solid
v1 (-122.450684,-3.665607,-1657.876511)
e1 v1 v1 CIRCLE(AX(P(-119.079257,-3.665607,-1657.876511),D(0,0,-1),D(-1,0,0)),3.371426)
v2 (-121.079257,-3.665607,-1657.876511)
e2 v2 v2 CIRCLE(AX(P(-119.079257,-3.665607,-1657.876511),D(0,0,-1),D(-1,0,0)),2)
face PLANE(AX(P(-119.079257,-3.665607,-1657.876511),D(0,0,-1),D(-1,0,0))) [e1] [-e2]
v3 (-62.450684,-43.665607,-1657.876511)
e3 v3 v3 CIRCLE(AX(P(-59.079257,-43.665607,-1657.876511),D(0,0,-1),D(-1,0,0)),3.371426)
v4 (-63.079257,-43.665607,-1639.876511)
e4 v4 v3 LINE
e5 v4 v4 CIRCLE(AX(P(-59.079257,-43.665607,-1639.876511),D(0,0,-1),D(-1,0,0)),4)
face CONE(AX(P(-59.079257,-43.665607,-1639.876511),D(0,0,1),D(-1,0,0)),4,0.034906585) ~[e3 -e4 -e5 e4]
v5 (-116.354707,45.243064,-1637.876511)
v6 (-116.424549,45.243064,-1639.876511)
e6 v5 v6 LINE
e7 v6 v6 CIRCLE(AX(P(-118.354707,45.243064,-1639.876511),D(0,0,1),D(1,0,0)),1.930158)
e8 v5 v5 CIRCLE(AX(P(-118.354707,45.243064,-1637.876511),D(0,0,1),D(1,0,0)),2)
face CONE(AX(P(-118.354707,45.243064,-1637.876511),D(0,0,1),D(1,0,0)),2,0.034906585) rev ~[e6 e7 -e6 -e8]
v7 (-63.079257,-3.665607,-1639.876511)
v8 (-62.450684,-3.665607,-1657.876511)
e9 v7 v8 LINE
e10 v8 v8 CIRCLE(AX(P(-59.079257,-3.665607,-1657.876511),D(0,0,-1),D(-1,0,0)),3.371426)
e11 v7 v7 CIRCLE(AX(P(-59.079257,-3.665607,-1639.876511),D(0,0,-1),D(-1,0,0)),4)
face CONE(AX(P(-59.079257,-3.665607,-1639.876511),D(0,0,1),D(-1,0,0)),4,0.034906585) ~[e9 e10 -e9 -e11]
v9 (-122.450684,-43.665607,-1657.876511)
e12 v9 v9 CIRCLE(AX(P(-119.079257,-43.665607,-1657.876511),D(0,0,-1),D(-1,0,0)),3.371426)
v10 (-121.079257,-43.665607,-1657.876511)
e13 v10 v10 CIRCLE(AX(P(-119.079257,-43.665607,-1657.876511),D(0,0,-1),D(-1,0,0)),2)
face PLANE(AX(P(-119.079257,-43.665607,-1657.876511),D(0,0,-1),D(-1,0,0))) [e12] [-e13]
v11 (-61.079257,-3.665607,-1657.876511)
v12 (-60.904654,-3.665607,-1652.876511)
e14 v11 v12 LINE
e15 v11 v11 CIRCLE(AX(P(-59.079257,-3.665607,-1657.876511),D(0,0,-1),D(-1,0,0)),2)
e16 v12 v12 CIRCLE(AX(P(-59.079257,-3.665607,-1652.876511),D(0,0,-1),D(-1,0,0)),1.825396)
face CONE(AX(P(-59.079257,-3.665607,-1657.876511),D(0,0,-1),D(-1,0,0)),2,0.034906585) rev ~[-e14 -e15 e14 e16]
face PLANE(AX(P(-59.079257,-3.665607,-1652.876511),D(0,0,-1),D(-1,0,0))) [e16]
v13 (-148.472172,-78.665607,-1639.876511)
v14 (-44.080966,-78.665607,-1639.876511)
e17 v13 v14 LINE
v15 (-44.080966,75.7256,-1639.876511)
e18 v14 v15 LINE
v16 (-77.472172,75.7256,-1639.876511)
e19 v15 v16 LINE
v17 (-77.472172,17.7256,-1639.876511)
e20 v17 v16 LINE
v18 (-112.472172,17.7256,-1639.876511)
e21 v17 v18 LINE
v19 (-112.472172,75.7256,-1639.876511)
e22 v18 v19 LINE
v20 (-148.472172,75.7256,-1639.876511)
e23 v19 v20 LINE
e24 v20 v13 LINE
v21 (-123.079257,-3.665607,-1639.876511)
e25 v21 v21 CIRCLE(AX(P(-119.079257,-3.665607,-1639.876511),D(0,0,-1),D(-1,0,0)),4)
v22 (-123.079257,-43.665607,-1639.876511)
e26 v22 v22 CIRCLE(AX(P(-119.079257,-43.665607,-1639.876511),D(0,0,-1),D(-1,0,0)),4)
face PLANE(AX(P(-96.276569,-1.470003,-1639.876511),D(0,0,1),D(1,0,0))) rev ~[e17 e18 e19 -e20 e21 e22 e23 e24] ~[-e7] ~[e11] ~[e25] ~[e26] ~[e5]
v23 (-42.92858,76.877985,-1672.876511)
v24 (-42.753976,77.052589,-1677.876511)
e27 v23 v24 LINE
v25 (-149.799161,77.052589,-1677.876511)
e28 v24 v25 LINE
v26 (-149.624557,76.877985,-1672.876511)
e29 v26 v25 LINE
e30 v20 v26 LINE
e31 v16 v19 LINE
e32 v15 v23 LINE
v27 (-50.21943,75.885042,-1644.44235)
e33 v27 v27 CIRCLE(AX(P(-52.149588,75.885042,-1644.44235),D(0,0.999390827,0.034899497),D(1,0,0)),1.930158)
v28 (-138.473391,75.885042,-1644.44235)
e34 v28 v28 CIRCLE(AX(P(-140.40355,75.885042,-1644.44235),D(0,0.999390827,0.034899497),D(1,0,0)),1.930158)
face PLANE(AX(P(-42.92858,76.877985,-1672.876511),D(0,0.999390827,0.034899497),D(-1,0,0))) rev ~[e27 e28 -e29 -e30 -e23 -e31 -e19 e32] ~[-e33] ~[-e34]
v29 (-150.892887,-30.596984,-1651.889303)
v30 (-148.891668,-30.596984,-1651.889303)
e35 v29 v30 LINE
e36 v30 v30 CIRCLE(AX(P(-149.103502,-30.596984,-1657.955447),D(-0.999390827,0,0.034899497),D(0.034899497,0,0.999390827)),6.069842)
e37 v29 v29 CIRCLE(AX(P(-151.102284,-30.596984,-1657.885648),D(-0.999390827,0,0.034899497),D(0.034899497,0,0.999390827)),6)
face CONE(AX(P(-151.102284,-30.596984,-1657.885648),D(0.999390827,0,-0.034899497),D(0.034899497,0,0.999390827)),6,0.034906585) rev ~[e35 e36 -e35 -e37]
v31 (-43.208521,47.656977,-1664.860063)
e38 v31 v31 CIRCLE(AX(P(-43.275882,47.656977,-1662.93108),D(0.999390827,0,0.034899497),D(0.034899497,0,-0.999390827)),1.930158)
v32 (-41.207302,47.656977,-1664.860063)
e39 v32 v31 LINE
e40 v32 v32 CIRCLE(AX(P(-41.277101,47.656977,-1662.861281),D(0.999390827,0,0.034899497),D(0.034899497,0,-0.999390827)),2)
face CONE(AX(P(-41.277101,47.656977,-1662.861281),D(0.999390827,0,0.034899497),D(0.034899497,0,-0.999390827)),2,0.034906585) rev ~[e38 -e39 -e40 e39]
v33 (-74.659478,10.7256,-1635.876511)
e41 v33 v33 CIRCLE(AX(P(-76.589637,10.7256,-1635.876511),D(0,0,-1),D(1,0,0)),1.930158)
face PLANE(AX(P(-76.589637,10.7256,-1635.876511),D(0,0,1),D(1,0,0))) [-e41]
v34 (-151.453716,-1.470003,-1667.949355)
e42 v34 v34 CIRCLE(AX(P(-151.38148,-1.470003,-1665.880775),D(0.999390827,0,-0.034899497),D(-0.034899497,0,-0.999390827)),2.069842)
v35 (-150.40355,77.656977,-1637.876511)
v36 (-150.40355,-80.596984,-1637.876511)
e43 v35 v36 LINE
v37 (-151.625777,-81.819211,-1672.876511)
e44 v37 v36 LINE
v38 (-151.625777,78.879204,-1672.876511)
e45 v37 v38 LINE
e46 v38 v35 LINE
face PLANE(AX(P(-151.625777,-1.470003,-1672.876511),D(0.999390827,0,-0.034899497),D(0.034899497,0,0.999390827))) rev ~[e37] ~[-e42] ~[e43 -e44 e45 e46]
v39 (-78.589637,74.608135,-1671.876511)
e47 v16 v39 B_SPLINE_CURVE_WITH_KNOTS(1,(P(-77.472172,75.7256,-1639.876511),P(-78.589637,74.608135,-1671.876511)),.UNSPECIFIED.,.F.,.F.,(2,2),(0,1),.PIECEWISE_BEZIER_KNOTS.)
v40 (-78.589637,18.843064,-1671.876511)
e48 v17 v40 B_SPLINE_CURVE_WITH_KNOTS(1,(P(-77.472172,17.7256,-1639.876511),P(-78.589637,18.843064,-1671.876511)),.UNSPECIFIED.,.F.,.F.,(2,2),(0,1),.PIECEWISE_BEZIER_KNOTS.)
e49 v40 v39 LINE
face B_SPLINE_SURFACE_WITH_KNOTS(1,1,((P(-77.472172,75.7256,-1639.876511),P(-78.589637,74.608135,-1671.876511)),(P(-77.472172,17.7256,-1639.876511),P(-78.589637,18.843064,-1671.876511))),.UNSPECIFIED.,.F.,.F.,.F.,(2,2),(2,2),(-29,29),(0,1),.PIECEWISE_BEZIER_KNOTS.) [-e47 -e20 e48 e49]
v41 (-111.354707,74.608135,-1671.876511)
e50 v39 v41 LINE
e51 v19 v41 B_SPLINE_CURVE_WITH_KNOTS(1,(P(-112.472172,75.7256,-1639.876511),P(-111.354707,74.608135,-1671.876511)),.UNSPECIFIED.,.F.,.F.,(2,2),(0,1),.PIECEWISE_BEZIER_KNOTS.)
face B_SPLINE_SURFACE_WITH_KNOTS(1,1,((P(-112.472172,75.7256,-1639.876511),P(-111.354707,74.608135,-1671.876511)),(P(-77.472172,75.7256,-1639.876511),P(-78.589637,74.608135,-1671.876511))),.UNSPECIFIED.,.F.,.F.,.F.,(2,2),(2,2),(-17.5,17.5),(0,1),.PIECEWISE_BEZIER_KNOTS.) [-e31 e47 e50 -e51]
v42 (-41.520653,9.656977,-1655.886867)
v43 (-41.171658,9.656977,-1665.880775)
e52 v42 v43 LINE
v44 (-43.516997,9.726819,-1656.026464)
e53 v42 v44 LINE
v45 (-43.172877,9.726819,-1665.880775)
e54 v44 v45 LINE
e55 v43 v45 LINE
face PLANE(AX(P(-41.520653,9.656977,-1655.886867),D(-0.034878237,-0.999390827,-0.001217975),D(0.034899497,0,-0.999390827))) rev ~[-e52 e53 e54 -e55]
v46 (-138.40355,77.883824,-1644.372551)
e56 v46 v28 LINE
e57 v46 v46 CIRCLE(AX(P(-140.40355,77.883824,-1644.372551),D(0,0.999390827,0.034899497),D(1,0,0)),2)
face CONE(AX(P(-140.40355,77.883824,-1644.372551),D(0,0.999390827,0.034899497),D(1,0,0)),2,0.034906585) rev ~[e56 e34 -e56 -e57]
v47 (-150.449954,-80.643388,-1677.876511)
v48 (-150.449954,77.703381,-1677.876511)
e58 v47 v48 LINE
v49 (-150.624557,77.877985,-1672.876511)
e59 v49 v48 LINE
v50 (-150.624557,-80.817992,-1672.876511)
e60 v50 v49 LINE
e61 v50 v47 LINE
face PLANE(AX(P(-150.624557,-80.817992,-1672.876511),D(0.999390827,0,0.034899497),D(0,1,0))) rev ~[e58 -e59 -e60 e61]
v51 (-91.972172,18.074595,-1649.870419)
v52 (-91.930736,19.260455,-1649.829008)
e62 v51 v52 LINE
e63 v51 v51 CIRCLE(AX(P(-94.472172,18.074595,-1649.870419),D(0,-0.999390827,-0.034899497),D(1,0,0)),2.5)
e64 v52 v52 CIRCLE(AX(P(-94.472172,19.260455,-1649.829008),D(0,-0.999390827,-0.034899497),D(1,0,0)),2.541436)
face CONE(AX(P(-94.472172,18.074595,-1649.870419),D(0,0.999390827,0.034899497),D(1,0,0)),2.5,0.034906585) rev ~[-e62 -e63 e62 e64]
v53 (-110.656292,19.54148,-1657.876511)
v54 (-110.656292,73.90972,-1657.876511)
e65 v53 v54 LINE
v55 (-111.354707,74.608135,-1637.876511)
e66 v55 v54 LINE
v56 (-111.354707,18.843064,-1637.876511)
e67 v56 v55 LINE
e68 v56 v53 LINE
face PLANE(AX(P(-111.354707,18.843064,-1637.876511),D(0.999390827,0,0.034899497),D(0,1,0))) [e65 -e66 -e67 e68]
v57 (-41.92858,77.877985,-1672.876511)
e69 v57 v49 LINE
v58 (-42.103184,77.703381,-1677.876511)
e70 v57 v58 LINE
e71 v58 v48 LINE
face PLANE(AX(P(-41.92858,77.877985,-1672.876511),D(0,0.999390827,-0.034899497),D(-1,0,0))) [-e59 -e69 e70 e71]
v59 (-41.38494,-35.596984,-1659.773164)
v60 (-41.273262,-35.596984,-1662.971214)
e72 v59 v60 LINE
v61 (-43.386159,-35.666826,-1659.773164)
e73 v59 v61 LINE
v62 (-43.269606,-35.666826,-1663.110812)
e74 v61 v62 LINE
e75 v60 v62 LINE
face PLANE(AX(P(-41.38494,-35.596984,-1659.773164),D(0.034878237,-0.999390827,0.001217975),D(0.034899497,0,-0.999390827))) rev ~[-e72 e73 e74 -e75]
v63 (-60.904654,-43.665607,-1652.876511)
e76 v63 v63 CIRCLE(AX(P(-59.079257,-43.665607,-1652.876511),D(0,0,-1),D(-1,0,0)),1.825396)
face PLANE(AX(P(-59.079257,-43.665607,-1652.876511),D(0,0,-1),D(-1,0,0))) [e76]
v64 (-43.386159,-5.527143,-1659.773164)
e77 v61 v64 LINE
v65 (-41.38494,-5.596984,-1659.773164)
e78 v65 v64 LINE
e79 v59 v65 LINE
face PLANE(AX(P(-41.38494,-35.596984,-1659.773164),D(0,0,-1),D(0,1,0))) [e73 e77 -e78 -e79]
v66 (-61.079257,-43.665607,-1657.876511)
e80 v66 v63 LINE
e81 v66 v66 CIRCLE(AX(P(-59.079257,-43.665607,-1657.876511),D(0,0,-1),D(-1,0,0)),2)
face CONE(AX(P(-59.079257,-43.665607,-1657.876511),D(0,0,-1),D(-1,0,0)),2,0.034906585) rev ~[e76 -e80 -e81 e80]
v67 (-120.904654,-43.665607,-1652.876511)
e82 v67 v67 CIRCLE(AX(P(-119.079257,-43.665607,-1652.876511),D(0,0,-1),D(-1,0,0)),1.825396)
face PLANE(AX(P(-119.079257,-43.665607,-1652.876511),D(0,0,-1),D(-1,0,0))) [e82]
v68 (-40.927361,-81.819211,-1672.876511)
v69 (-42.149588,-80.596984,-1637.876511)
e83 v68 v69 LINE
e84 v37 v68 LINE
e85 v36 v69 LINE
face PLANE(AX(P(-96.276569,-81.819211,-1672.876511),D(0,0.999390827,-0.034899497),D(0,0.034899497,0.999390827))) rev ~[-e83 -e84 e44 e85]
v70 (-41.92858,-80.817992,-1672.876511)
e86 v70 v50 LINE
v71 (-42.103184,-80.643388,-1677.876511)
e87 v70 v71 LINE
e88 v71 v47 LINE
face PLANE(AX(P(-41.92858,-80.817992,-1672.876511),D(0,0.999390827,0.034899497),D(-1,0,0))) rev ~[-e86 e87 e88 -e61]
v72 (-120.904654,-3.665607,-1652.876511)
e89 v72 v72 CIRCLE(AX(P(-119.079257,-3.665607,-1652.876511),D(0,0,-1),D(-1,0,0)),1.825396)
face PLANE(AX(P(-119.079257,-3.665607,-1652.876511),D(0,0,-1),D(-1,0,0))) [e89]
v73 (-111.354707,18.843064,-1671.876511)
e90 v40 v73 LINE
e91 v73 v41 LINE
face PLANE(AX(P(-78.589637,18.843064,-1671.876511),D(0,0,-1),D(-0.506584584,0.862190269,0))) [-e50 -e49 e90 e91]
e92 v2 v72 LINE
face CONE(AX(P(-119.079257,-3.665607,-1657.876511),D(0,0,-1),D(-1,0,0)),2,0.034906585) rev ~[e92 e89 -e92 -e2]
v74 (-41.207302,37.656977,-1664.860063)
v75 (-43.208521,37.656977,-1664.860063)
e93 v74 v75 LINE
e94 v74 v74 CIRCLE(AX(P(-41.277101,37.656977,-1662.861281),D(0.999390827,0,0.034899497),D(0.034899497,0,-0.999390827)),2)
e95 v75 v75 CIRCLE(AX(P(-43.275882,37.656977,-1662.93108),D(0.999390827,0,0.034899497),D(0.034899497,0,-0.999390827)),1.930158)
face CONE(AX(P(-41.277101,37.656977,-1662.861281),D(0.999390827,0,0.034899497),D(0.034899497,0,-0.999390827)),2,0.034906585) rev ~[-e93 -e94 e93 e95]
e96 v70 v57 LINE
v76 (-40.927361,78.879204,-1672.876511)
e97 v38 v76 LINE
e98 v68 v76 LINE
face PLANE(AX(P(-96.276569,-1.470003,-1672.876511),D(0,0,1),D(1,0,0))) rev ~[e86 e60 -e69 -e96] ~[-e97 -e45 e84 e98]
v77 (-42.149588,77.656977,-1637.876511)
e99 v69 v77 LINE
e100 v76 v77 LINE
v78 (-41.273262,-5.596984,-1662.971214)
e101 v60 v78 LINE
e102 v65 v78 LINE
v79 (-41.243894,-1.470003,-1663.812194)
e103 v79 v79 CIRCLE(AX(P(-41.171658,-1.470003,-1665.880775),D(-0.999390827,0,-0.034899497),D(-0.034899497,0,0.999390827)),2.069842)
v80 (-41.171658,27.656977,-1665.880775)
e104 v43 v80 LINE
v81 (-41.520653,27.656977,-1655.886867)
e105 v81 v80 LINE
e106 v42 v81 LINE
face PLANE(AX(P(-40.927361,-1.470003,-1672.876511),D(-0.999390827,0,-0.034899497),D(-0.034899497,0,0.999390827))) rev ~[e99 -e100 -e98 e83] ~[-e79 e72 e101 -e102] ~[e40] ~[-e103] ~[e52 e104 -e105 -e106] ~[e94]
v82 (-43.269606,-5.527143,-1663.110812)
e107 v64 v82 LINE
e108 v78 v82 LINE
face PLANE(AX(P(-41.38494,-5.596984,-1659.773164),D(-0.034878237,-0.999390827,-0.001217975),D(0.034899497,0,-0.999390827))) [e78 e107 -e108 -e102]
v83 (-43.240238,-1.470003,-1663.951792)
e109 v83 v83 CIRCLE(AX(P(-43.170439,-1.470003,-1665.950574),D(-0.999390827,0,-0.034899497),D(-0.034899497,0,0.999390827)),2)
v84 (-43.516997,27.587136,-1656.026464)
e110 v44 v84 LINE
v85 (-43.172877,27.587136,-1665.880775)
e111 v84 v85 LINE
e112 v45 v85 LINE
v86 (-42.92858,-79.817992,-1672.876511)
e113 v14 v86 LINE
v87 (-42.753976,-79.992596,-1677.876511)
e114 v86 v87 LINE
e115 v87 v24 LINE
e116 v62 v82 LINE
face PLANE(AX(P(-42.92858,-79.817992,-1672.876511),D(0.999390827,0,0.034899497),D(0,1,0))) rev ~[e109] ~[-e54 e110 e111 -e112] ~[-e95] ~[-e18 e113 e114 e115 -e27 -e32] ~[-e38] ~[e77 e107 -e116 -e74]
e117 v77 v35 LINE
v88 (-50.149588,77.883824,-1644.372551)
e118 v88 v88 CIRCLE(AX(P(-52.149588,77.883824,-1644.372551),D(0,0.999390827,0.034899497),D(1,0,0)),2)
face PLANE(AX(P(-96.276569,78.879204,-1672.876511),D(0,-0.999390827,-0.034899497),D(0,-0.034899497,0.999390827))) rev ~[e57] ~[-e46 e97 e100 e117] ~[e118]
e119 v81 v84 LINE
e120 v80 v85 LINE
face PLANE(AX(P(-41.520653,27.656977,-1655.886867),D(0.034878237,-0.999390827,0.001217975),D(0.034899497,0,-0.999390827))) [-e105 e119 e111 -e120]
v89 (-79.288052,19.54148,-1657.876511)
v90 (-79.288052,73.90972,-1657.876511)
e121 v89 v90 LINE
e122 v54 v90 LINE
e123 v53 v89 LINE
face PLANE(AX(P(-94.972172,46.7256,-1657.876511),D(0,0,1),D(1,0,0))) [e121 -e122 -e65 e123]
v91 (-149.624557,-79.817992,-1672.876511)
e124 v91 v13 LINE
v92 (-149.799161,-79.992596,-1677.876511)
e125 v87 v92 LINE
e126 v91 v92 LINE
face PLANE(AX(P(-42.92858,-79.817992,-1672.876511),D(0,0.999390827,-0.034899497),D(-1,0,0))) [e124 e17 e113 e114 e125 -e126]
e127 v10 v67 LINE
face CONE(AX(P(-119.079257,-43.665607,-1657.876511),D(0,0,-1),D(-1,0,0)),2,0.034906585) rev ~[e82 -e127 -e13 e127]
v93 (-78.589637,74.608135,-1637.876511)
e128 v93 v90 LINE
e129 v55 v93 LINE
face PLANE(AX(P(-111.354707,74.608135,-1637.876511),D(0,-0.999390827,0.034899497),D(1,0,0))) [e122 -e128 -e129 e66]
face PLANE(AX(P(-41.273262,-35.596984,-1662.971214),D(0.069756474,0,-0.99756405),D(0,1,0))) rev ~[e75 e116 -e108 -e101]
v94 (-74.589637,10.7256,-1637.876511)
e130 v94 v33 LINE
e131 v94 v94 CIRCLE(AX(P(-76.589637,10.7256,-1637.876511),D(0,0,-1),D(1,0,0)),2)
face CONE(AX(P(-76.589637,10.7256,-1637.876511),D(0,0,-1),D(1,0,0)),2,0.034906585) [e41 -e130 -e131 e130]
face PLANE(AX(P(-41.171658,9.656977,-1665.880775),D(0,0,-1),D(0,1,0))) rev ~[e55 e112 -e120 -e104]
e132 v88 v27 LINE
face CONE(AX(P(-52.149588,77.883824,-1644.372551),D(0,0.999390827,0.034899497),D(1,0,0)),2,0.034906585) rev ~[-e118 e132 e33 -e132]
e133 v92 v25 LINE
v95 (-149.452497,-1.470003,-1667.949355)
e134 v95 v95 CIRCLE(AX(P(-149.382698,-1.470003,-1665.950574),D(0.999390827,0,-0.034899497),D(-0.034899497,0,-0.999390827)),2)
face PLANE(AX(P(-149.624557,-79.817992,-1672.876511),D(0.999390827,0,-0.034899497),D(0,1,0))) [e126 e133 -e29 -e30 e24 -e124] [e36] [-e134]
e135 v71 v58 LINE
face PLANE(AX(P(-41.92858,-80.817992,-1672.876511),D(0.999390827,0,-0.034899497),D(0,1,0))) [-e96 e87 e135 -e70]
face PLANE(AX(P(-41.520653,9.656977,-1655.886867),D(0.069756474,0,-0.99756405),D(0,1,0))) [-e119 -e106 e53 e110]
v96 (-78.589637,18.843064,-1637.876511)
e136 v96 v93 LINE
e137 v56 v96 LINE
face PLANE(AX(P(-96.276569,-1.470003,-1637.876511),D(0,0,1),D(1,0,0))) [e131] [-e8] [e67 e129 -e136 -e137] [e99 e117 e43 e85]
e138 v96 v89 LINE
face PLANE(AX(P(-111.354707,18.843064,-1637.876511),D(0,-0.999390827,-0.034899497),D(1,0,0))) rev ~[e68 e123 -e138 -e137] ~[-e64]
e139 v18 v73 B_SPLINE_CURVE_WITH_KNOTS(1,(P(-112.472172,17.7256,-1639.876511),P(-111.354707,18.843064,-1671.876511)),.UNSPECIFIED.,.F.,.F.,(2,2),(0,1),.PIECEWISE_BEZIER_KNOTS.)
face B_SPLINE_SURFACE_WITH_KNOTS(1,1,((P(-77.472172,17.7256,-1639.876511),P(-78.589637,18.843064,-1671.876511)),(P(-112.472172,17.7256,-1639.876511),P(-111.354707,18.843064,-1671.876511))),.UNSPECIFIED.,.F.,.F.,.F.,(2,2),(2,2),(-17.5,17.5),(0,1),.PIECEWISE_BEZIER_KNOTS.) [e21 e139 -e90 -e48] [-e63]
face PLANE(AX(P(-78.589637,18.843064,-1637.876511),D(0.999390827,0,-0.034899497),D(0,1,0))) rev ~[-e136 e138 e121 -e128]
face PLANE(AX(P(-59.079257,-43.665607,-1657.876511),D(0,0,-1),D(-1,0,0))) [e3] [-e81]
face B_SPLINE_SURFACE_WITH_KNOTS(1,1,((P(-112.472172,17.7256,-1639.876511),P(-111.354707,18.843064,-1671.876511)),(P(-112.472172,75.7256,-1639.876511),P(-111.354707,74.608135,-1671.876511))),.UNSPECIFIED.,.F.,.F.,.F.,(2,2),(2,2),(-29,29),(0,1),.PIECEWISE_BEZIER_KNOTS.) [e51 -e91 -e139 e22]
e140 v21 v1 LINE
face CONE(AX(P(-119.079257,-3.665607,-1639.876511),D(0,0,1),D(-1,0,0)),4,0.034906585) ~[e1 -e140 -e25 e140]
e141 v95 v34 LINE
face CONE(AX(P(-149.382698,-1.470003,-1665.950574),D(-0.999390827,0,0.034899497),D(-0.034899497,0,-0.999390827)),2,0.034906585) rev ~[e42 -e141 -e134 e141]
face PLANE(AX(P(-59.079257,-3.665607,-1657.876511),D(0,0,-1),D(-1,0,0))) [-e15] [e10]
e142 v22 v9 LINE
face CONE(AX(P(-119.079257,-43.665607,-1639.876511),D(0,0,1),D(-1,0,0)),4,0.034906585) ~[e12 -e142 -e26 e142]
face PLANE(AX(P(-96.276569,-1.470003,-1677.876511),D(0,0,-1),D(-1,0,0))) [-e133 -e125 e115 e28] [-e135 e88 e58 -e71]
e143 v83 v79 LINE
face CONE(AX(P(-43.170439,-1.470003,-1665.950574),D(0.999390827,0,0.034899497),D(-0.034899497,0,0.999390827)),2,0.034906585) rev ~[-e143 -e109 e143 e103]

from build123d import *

# Parameters (mm, degrees)
SKETCH1_W                     = 110.69841539
SKETCH1_H                     = 160.69841539
BOSS_EXTRUDE1_DEPTH           = 35
BOSS_EXTRUDE1_TAPER           = 2
SHELL1_T                      = -2
SKETCH9_W                     = 35
SKETCH9_H                     = 58
BOSS_EXTRUDE5_DEPTH           = 32
BOSS_EXTRUDE5_TAPER           = 2
SKETCH6_W                     = 3.2
SKETCH6_H                     = 30
CUT_EXTRUDE3_DEPTH            = 2
CUT_EXTRUDE3_DRAFT            = 2
SKETCH11_W                    = 32.765070753
SKETCH11_H                    = 55.765070753
CUT_EXTRUDE4_DEPTH            = 20
CUT_EXTRUDE4_DRAFT            = -2
SKETCH13_R                    = 2.5
CUT_EXTRUDE5_DEPTH            = 1.186583
CUT_EXTRUDE5_DRAFT            = 2
SKETCH14_R                    = 4
BOSS_EXTRUDE6_DEPTH           = 18
BOSS_EXTRUDE6_DRAFT           = 2
BOSS_EXTRUDE6_PROFILE_2_DEPTH = 18
BOSS_EXTRUDE6_PROFILE_2_DRAFT = 2
BOSS_EXTRUDE6_PROFILE_3_DEPTH = 18
BOSS_EXTRUDE6_PROFILE_3_DRAFT = 2
BOSS_EXTRUDE6_PROFILE_4_DEPTH = 18
BOSS_EXTRUDE6_PROFILE_4_DRAFT = 2
SKETCH15_R                    = 2
CUT_EXTRUDE6_DEPTH            = 5
CUT_EXTRUDE6_DRAFT            = -2
CUT_EXTRUDE6_PROFILE_2_DEPTH  = 5
CUT_EXTRUDE6_PROFILE_2_DRAFT  = -2
CUT_EXTRUDE6_PROFILE_3_DEPTH  = 5
CUT_EXTRUDE6_PROFILE_3_DRAFT  = -2
CUT_EXTRUDE6_PROFILE_4_DEPTH  = 5
CUT_EXTRUDE6_PROFILE_4_DRAFT  = -2
SKETCH17_W                    = 108.695977213
SKETCH17_H                    = 158.695977213
SKETCH17_W_2                  = 106.695977213
SKETCH17_H_2                  = 156.695977213
BOSS_EXTRUDE8_DEPTH           = 5
BOSS_EXTRUDE8_DRAFT           = 2
SKETCH18_R                    = 2
BOSS_EXTRUDE9_DEPTH           = 2
BOSS_EXTRUDE9_TAPER           = 2
SKETCH19_R                    = 2
CUT_EXTRUDE7_DEPTH            = 2
CUT_EXTRUDE7_DRAFT            = -2
SKETCH26_R                    = 2
CUT_EXTRUDE11_DEPTH           = 2
CUT_EXTRUDE11_DRAFT           = 2
SKETCH27_R                    = 2
CUT_EXTRUDE12_DEPTH           = 2
CUT_EXTRUDE12_DRAFT           = 2
SKETCH29_R                    = 6
CUT_EXTRUDE15_DEPTH           = 10
CUT_EXTRUDE15_DRAFT           = 2
SKETCH32_R                    = 2
CUT_EXTRUDE16_DEPTH           = 2
CUT_EXTRUDE16_DRAFT           = -2
CUT_EXTRUDE16_PROFILE_2_DEPTH = 2
CUT_EXTRUDE16_PROFILE_2_DRAFT = -2
SKETCH32_W                    = 10
SKETCH32_H                    = 18
CUT_EXTRUDE16_PROFILE_3_DEPTH = 2
CUT_EXTRUDE16_PROFILE_3_DRAFT = -2
SKETCH34_R                    = 2
CUT_EXTRUDE17_DEPTH           = 2
CUT_EXTRUDE17_DRAFT           = -2
CUT_EXTRUDE17_PROFILE_2_DEPTH = 2
CUT_EXTRUDE17_PROFILE_2_DRAFT = -2


with BuildPart() as part:
    # Sketch1 → Boss-Extrude1 (new body)
    with BuildSketch(Plane(origin=(-178.93563268, -87.827617858, -1672.876510568), x_dir=(1, 0, 0), z_dir=(0, 0, 1))):
        with Locations((82.659063847, 86.357614413)):
            Rectangle(SKETCH1_W, SKETCH1_H)
    extrude(amount=BOSS_EXTRUDE1_DEPTH, taper=BOSS_EXTRUDE1_TAPER)

    # Shell1
    shell1_openings = [part.faces().sort_by_distance(p)[0] for p in [
        (-96.276568833, -1.470003445, -1672.876510568),
    ]]
    offset(amount=SHELL1_T, openings=shell1_openings, kind=Kind.INTERSECTION)

    # Sketch9 → Boss-Extrude5 (add)
    with BuildSketch(Plane(origin=(0, 0, -1639.876510568), x_dir=(-1, 0, 0), z_dir=(0, 0, -1))):
        with Locations((94.972172046, 46.725599768)):
            Rectangle(SKETCH9_W, SKETCH9_H)
    extrude(amount=BOSS_EXTRUDE5_DEPTH, taper=BOSS_EXTRUDE5_TAPER)


with BuildPart() as cut_extrude3_tool:
    # Sketch6 → Cut-Extrude3 (with draft: the straight prism first)
    with BuildSketch(Plane(origin=(-99.224495834, 0, -3.464995747), x_dir=(0.03489949670250102, 0, -0.9993908270190958), z_dir=(0.9993908270190958, 0, 0.03489949670250102))):
        with Locations((1658.917761042, -20.596984207)):
            Rectangle(SKETCH6_W, SKETCH6_H)
    extrude(amount=-CUT_EXTRUDE3_DEPTH)
    # Cut-Extrude3: the draft: its side faces are tilted about the plane it starts from
    cut_extrude3_sides = [cut_extrude3_tool.faces().sort_by_distance(p)[0] for p in [
        (-42.328491729, -35.596984207, -1661.407088408),
        (-42.272652535, -20.596984207, -1663.006113731),
        (-42.328491729, -5.596984207, -1661.407088408),
        (-42.384330924, -20.596984207, -1659.808063085),
    ]]
    draft(cut_extrude3_sides, Plane(origin=(-99.224495834, 0, -3.464995747), x_dir=(0.03489949670250102, 0, -0.9993908270190958), z_dir=(0.9993908270190958, 0, 0.03489949670250102)), CUT_EXTRUDE3_DRAFT)


with BuildPart() as part_1:
    add(part.part)

    # Cut-Extrude3: cut by cut_extrude3_tool
    add(cut_extrude3_tool.part, mode=Mode.SUBTRACT)


with BuildPart() as cut_extrude4_tool:
    # Sketch11 → Cut-Extrude4 (with draft: the straight prism first)
    with BuildSketch(Plane.XY.offset(-1637.876510568)):
        with Locations((-94.972172046, 46.725599769)):
            Rectangle(SKETCH11_W, SKETCH11_H)
    extrude(amount=-CUT_EXTRUDE4_DEPTH)
    # Cut-Extrude4: the draft: its side faces are tilted about the plane it starts from
    cut_extrude4_sides = [cut_extrude4_tool.faces().sort_by_distance(p)[0] for p in [
        (-111.354707422, 46.725599768, -1647.876510568),
        (-94.972172046, 18.843064392, -1647.876510568),
        (-78.589636669, 46.725599768, -1647.876510568),
        (-94.972172046, 74.608135145, -1647.876510568),
    ]]
    draft(cut_extrude4_sides, Plane.XY.offset(-1637.876510568), CUT_EXTRUDE4_DRAFT)


with BuildPart() as part_2:
    add(part_1.part)

    # Cut-Extrude4: cut by cut_extrude4_tool
    add(cut_extrude4_tool.part, mode=Mode.SUBTRACT)


with BuildPart() as cut_extrude5_tool:
    # Sketch13 → Cut-Extrude5 (with draft: the straight prism first)
    with BuildSketch(Plane(origin=(0, -39.491990943, -1.379090712), x_dir=(1, 0, 0), z_dir=(0, -0.9993908270190958, -0.03489949670250101))):
        with Locations((-94.472172046, -1649.496156617)):
            Circle(SKETCH13_R)
    extrude(amount=-CUT_EXTRUDE5_DEPTH)
    # Cut-Extrude5: the draft: its side faces are tilted about the plane it starts from
    cut_extrude5_sides = [cut_extrude5_tool.faces().sort_by_distance(p)[0] for p in [
        (-96.972172046, 18.667524818, -1649.849713264),
    ]]
    draft(cut_extrude5_sides, Plane(origin=(0, -39.491990943, -1.379090712), x_dir=(1, 0, 0), z_dir=(0, -0.9993908270190958, -0.03489949670250101)), CUT_EXTRUDE5_DRAFT)


with BuildPart() as part_3:
    add(part_2.part)

    # Cut-Extrude5: cut by cut_extrude5_tool
    add(cut_extrude5_tool.part, mode=Mode.SUBTRACT)


with BuildPart() as boss_extrude6_tool:
    # Sketch14 → Boss-Extrude6 (with draft: the straight prism first)
    with BuildSketch(Plane(origin=(0, 0, -1639.876510568), x_dir=(-1, 0, 0), z_dir=(0, 0, -1))):
        with Locations((59.079257377, -3.665606658)):
            Circle(SKETCH14_R)
    extrude(amount=BOSS_EXTRUDE6_DEPTH)
    # Boss-Extrude6: the draft: its side faces are tilted about the plane it starts from
    boss_extrude6_sides = [boss_extrude6_tool.faces().sort_by_distance(p)[0] for p in [
        (-55.079257377, -3.665606658, -1648.876510568),
    ]]
    draft(boss_extrude6_sides, Plane(origin=(0, 0, -1639.876510568), x_dir=(-1, 0, 0), z_dir=(0, 0, -1)), BOSS_EXTRUDE6_DRAFT)


with BuildPart() as part_4:
    add(part_3.part)

    # Boss-Extrude6: add boss_extrude6_tool
    add(boss_extrude6_tool.part)


with BuildPart() as boss_extrude6_profile_2_tool:
    # Sketch14 → Boss-Extrude6 profile 2 (with draft: the straight prism first)
    with BuildSketch(Plane(origin=(0, 0, -1639.876510568), x_dir=(-1, 0, 0), z_dir=(0, 0, -1))):
        with Locations((59.079257377, -43.665606658)):
            Circle(SKETCH14_R)
    extrude(amount=BOSS_EXTRUDE6_PROFILE_2_DEPTH)
    # Boss-Extrude6 profile 2: the draft: its side faces are tilted about the plane it starts from
    boss_extrude6_profile_2_sides = [boss_extrude6_profile_2_tool.faces().sort_by_distance(p)[0] for p in [
        (-55.079257377, -43.665606658, -1648.876510568),
    ]]
    draft(boss_extrude6_profile_2_sides, Plane(origin=(0, 0, -1639.876510568), x_dir=(-1, 0, 0), z_dir=(0, 0, -1)), BOSS_EXTRUDE6_PROFILE_2_DRAFT)


with BuildPart() as part_5:
    add(part_4.part)

    # Boss-Extrude6 profile 2: add boss_extrude6_profile_2_tool
    add(boss_extrude6_profile_2_tool.part)


with BuildPart() as boss_extrude6_profile_3_tool:
    # Sketch14 → Boss-Extrude6 profile 3 (with draft: the straight prism first)
    with BuildSketch(Plane(origin=(0, 0, -1639.876510568), x_dir=(-1, 0, 0), z_dir=(0, 0, -1))):
        with Locations((119.079257377, -3.665606658)):
            Circle(SKETCH14_R)
    extrude(amount=BOSS_EXTRUDE6_PROFILE_3_DEPTH)
    # Boss-Extrude6 profile 3: the draft: its side faces are tilted about the plane it starts from
    boss_extrude6_profile_3_sides = [boss_extrude6_profile_3_tool.faces().sort_by_distance(p)[0] for p in [
        (-115.079257377, -3.665606658, -1648.876510568),
    ]]
    draft(boss_extrude6_profile_3_sides, Plane(origin=(0, 0, -1639.876510568), x_dir=(-1, 0, 0), z_dir=(0, 0, -1)), BOSS_EXTRUDE6_PROFILE_3_DRAFT)


with BuildPart() as part_6:
    add(part_5.part)

    # Boss-Extrude6 profile 3: add boss_extrude6_profile_3_tool
    add(boss_extrude6_profile_3_tool.part)


with BuildPart() as boss_extrude6_profile_4_tool:
    # Sketch14 → Boss-Extrude6 profile 4 (with draft: the straight prism first)
    with BuildSketch(Plane(origin=(0, 0, -1639.876510568), x_dir=(-1, 0, 0), z_dir=(0, 0, -1))):
        with Locations((119.079257377, -43.665606658)):
            Circle(SKETCH14_R)
    extrude(amount=BOSS_EXTRUDE6_PROFILE_4_DEPTH)
    # Boss-Extrude6 profile 4: the draft: its side faces are tilted about the plane it starts from
    boss_extrude6_profile_4_sides = [boss_extrude6_profile_4_tool.faces().sort_by_distance(p)[0] for p in [
        (-115.079257377, -43.665606658, -1648.876510568),
    ]]
    draft(boss_extrude6_profile_4_sides, Plane(origin=(0, 0, -1639.876510568), x_dir=(-1, 0, 0), z_dir=(0, 0, -1)), BOSS_EXTRUDE6_PROFILE_4_DRAFT)


with BuildPart() as part_7:
    add(part_6.part)

    # Boss-Extrude6 profile 4: add boss_extrude6_profile_4_tool
    add(boss_extrude6_profile_4_tool.part)


with BuildPart() as cut_extrude6_tool:
    # Sketch15 → Cut-Extrude6 (with draft: the straight prism first)
    with BuildSketch(Plane(origin=(0, 0, -1657.876510568), x_dir=(-1, 0, 0), z_dir=(0, 0, -1))):
        with Locations((59.079257377, -3.665606658)):
            Circle(SKETCH15_R)
    extrude(amount=-CUT_EXTRUDE6_DEPTH)
    # Cut-Extrude6: the draft: its side faces are tilted about the plane it starts from
    cut_extrude6_sides = [cut_extrude6_tool.faces().sort_by_distance(p)[0] for p in [
        (-57.079257377, -3.665606658, -1655.376510568),
    ]]
    draft(cut_extrude6_sides, Plane(origin=(0, 0, -1657.876510568), x_dir=(-1, 0, 0), z_dir=(0, 0, -1)), CUT_EXTRUDE6_DRAFT)


with BuildPart() as part_8:
    add(part_7.part)

    # Cut-Extrude6: cut by cut_extrude6_tool
    add(cut_extrude6_tool.part, mode=Mode.SUBTRACT)


with BuildPart() as cut_extrude6_profile_2_tool:
    # Sketch15 → Cut-Extrude6 profile 2 (with draft: the straight prism first)
    with BuildSketch(Plane(origin=(0, 0, -1657.876510568), x_dir=(-1, 0, 0), z_dir=(0, 0, -1))):
        with Locations((119.079257377, -3.665606658)):
            Circle(SKETCH15_R)
    extrude(amount=-CUT_EXTRUDE6_PROFILE_2_DEPTH)
    # Cut-Extrude6 profile 2: the draft: its side faces are tilted about the plane it starts from
    cut_extrude6_profile_2_sides = [cut_extrude6_profile_2_tool.faces().sort_by_distance(p)[0] for p in [
        (-117.079257377, -3.665606658, -1655.376510568),
    ]]
    draft(cut_extrude6_profile_2_sides, Plane(origin=(0, 0, -1657.876510568), x_dir=(-1, 0, 0), z_dir=(0, 0, -1)), CUT_EXTRUDE6_PROFILE_2_DRAFT)


with BuildPart() as part_9:
    add(part_8.part)

    # Cut-Extrude6 profile 2: cut by cut_extrude6_profile_2_tool
    add(cut_extrude6_profile_2_tool.part, mode=Mode.SUBTRACT)


with BuildPart() as cut_extrude6_profile_3_tool:
    # Sketch15 → Cut-Extrude6 profile 3 (with draft: the straight prism first)
    with BuildSketch(Plane(origin=(0, 0, -1657.876510568), x_dir=(-1, 0, 0), z_dir=(0, 0, -1))):
        with Locations((119.079257377, -43.665606658)):
            Circle(SKETCH15_R)
    extrude(amount=-CUT_EXTRUDE6_PROFILE_3_DEPTH)
    # Cut-Extrude6 profile 3: the draft: its side faces are tilted about the plane it starts from
    cut_extrude6_profile_3_sides = [cut_extrude6_profile_3_tool.faces().sort_by_distance(p)[0] for p in [
        (-117.079257377, -43.665606658, -1655.376510568),
    ]]
    draft(cut_extrude6_profile_3_sides, Plane(origin=(0, 0, -1657.876510568), x_dir=(-1, 0, 0), z_dir=(0, 0, -1)), CUT_EXTRUDE6_PROFILE_3_DRAFT)


with BuildPart() as part_10:
    add(part_9.part)

    # Cut-Extrude6 profile 3: cut by cut_extrude6_profile_3_tool
    add(cut_extrude6_profile_3_tool.part, mode=Mode.SUBTRACT)


with BuildPart() as cut_extrude6_profile_4_tool:
    # Sketch15 → Cut-Extrude6 profile 4 (with draft: the straight prism first)
    with BuildSketch(Plane(origin=(0, 0, -1657.876510568), x_dir=(-1, 0, 0), z_dir=(0, 0, -1))):
        with Locations((59.079257377, -43.665606658)):
            Circle(SKETCH15_R)
    extrude(amount=-CUT_EXTRUDE6_PROFILE_4_DEPTH)
    # Cut-Extrude6 profile 4: the draft: its side faces are tilted about the plane it starts from
    cut_extrude6_profile_4_sides = [cut_extrude6_profile_4_tool.faces().sort_by_distance(p)[0] for p in [
        (-57.079257377, -43.665606658, -1655.376510568),
    ]]
    draft(cut_extrude6_profile_4_sides, Plane(origin=(0, 0, -1657.876510568), x_dir=(-1, 0, 0), z_dir=(0, 0, -1)), CUT_EXTRUDE6_PROFILE_4_DRAFT)


with BuildPart() as part_11:
    add(part_10.part)

    # Cut-Extrude6 profile 4: cut by cut_extrude6_profile_4_tool
    add(cut_extrude6_profile_4_tool.part, mode=Mode.SUBTRACT)


with BuildPart() as boss_extrude8_tool:
    # Sketch17 → Boss-Extrude8 (with draft: the straight prism first)
    with BuildSketch(Plane(origin=(0, 0, -1672.876510568), x_dir=(-1, 0, 0), z_dir=(0, 0, -1))):
        with Locations((96.276568833, -1.470003445)):
            Rectangle(SKETCH17_W, SKETCH17_H)
        with Locations((96.276568833, -1.470003445)):
            Rectangle(SKETCH17_W_2, SKETCH17_H_2, mode=Mode.SUBTRACT)
    extrude(amount=BOSS_EXTRUDE8_DEPTH)
    # Boss-Extrude8: the draft: its side faces are tilted about the plane it starts from
    boss_extrude8_sides = [boss_extrude8_tool.faces().sort_by_distance(p)[0] for p in [
        (-41.928580226, -1.470003445, -1675.376510568),
        (-96.276568833, -80.817992051, -1675.376510568),
        (-150.624557439, -1.470003445, -1675.376510568),
        (-96.276568833, 77.877985162, -1675.376510568),
        (-96.276568833, -79.817992051, -1675.376510568),
        (-42.928580226, -1.470003445, -1675.376510568),
        (-96.276568833, 76.877985162, -1675.376510568),
        (-149.624557439, -1.470003445, -1675.376510568),
    ]]
    draft(boss_extrude8_sides, Plane(origin=(0, 0, -1672.876510568), x_dir=(-1, 0, 0), z_dir=(0, 0, -1)), BOSS_EXTRUDE8_DRAFT)


with BuildPart() as part_12:
    add(part_11.part)

    # Boss-Extrude8: add boss_extrude8_tool
    add(boss_extrude8_tool.part)

    # Sketch18 → Boss-Extrude9 (add)
    with BuildSketch(Plane.XY.offset(-1637.876510568)):
        with Locations((-76.589636669, 10.725599768)):
            Circle(SKETCH18_R)
    extrude(amount=BOSS_EXTRUDE9_DEPTH, taper=BOSS_EXTRUDE9_TAPER)


with BuildPart() as cut_extrude7_tool:
    # Sketch19 → Cut-Extrude7 (with draft: the straight prism first)
    with BuildSketch(Plane.XY.offset(-1637.876510568)):
        with Locations((-118.354707422, 45.243064392)):
            Circle(SKETCH19_R)
    extrude(amount=-CUT_EXTRUDE7_DEPTH)
    # Cut-Extrude7: the draft: its side faces are tilted about the plane it starts from
    cut_extrude7_sides = [cut_extrude7_tool.faces().sort_by_distance(p)[0] for p in [
        (-120.354707422, 45.243064392, -1638.876510568),
    ]]
    draft(cut_extrude7_sides, Plane.XY.offset(-1637.876510568), CUT_EXTRUDE7_DRAFT)


with BuildPart() as part_13:
    add(part_12.part)

    # Cut-Extrude7: cut by cut_extrude7_tool
    add(cut_extrude7_tool.part, mode=Mode.SUBTRACT)


with BuildPart() as cut_extrude11_tool:
    # Sketch26 → Cut-Extrude11 (with draft: the straight prism first)
    with BuildSketch(Plane(origin=(-91.095335295, 0, 3.181119206), x_dir=(-0.03489949670250101, 0, -0.9993908270190958), z_dir=(0.9993908270190958, 0, -0.03489949670250101))):
        with Locations((1670.149102685, -1.470003445)):
            Circle(SKETCH26_R)
    extrude(amount=-CUT_EXTRUDE11_DEPTH)
    # Cut-Extrude11: the draft: its side faces are tilted about the plane it starts from
    cut_extrude11_sides = [cut_extrude11_tool.faces().sort_by_distance(p)[0] for p in [
        (-150.31229023, -1.470003445, -1663.916892622),
    ]]
    draft(cut_extrude11_sides, Plane(origin=(-91.095335295, 0, 3.181119206), x_dir=(-0.03489949670250101, 0, -0.9993908270190958), z_dir=(0.9993908270190958, 0, -0.03489949670250101)), CUT_EXTRUDE11_DRAFT)


with BuildPart() as part_14:
    add(part_13.part)

    # Cut-Extrude11: cut by cut_extrude11_tool
    add(cut_extrude11_tool.part, mode=Mode.SUBTRACT)


with BuildPart() as cut_extrude12_tool:
    # Sketch27 → Cut-Extrude12 (with draft: the straight prism first)
    with BuildSketch(Plane(origin=(-101.223277488, 0, -3.53479474), x_dir=(-0.03489949670250102, 0, 0.9993908270190958), z_dir=(-0.9993908270190958, 0, -0.03489949670250102))):
        with Locations((-1663.429095092, -1.470003445)):
            Circle(SKETCH27_R)
    extrude(amount=-CUT_EXTRUDE12_DEPTH)
    # Cut-Extrude12: the draft: its side faces are tilted about the plane it starts from
    cut_extrude12_sides = [cut_extrude12_tool.faces().sort_by_distance(p)[0] for p in [
        (-42.101249448, -1.470003445, -1667.91445593),
    ]]
    draft(cut_extrude12_sides, Plane(origin=(-101.223277488, 0, -3.53479474), x_dir=(-0.03489949670250102, 0, 0.9993908270190958), z_dir=(-0.9993908270190958, 0, -0.03489949670250102)), CUT_EXTRUDE12_DRAFT)


with BuildPart() as part_15:
    add(part_14.part)

    # Cut-Extrude12: cut by cut_extrude12_tool
    add(cut_extrude12_tool.part, mode=Mode.SUBTRACT)


with BuildPart() as cut_extrude15_tool:
    # Sketch29 → Cut-Extrude15 (with draft: the straight prism first)
    with BuildSketch(Plane(origin=(-93.094116949, 0, 3.250918199), x_dir=(0.03489949670250101, 0, 0.9993908270190958), z_dir=(-0.9993908270190958, 0, 0.03489949670250101))):
        with Locations((-1662.149102685, -30.596984207)):
            Circle(SKETCH29_R)
    extrude(amount=-CUT_EXTRUDE15_DEPTH)
    # Cut-Extrude15: the draft: its side faces are tilted about the plane it starts from
    cut_extrude15_sides = [cut_extrude15_tool.faces().sort_by_distance(p)[0] for p in [
        (-146.314726922, -30.596984207, -1664.056490608),
    ]]
    draft(cut_extrude15_sides, Plane(origin=(-93.094116949, 0, 3.250918199), x_dir=(0.03489949670250101, 0, 0.9993908270190958), z_dir=(-0.9993908270190958, 0, 0.03489949670250101)), CUT_EXTRUDE15_DRAFT)


with BuildPart() as part_16:
    add(part_15.part)

    # Cut-Extrude15: cut by cut_extrude15_tool
    add(cut_extrude15_tool.part, mode=Mode.SUBTRACT)


with BuildPart() as cut_extrude16_tool:
    # Sketch32 → Cut-Extrude16 (with draft: the straight prism first)
    with BuildSketch(Plane(origin=(-99.224495834, 0, -3.464995747), x_dir=(0.03489949670250102, 0, -0.9993908270190958), z_dir=(0.9993908270190958, 0, 0.03489949670250102))):
        with Locations((1660.407761042, 47.656977318)):
            Circle(SKETCH32_R)
    extrude(amount=-CUT_EXTRUDE16_DEPTH)
    # Cut-Extrude16: the draft: its side faces are tilted about the plane it starts from
    cut_extrude16_sides = [cut_extrude16_tool.faces().sort_by_distance(p)[0] for p in [
        (-42.346290473, 47.656977318, -1660.897399086),
    ]]
    draft(cut_extrude16_sides, Plane(origin=(-99.224495834, 0, -3.464995747), x_dir=(0.03489949670250102, 0, -0.9993908270190958), z_dir=(0.9993908270190958, 0, 0.03489949670250102)), CUT_EXTRUDE16_DRAFT)


with BuildPart() as part_17:
    add(part_16.part)

    # Cut-Extrude16: cut by cut_extrude16_tool
    add(cut_extrude16_tool.part, mode=Mode.SUBTRACT)


with BuildPart() as cut_extrude16_profile_2_tool:
    # Sketch32 → Cut-Extrude16 profile 2 (with draft: the straight prism first)
    with BuildSketch(Plane(origin=(-99.224495834, 0, -3.464995747), x_dir=(0.03489949670250102, 0, -0.9993908270190958), z_dir=(0.9993908270190958, 0, 0.03489949670250102))):
        with Locations((1660.407761042, 37.656977318)):
            Circle(SKETCH32_R)
    extrude(amount=-CUT_EXTRUDE16_PROFILE_2_DEPTH)
    # Cut-Extrude16 profile 2: the draft: its side faces are tilted about the plane it starts from
    cut_extrude16_profile_2_sides = [cut_extrude16_profile_2_tool.faces().sort_by_distance(p)[0] for p in [
        (-42.346290473, 37.656977318, -1660.897399086),
    ]]
    draft(cut_extrude16_profile_2_sides, Plane(origin=(-99.224495834, 0, -3.464995747), x_dir=(0.03489949670250102, 0, -0.9993908270190958), z_dir=(0.9993908270190958, 0, 0.03489949670250102)), CUT_EXTRUDE16_PROFILE_2_DRAFT)


with BuildPart() as part_18:
    add(part_17.part)

    # Cut-Extrude16 profile 2: cut by cut_extrude16_profile_2_tool
    add(cut_extrude16_profile_2_tool.part, mode=Mode.SUBTRACT)


with BuildPart() as cut_extrude16_profile_3_tool:
    # Sketch32 → Cut-Extrude16 profile 3 (with draft: the straight prism first)
    with BuildSketch(Plane(origin=(-99.224495834, 0, -3.464995747), x_dir=(0.03489949670250102, 0, -0.9993908270190958), z_dir=(0.9993908270190958, 0, 0.03489949670250102))):
        with Locations((1658.429095092, 18.656977318)):
            Rectangle(SKETCH32_W, SKETCH32_H)
    extrude(amount=-CUT_EXTRUDE16_PROFILE_3_DEPTH)
    # Cut-Extrude16 profile 3: the draft: its side faces are tilted about the plane it starts from
    cut_extrude16_profile_3_sides = [cut_extrude16_profile_3_tool.faces().sort_by_distance(p)[0] for p in [
        (-42.171048442, 18.656977318, -1665.915674276),
        (-42.345545925, 27.656977318, -1660.918720141),
        (-42.520043409, 18.656977318, -1655.921766006),
        (-42.345545925, 9.656977318, -1660.918720141),
    ]]
    draft(cut_extrude16_profile_3_sides, Plane(origin=(-99.224495834, 0, -3.464995747), x_dir=(0.03489949670250102, 0, -0.9993908270190958), z_dir=(0.9993908270190958, 0, 0.03489949670250102)), CUT_EXTRUDE16_PROFILE_3_DRAFT)


with BuildPart() as part_19:
    add(part_18.part)

    # Cut-Extrude16 profile 3: cut by cut_extrude16_profile_3_tool
    add(cut_extrude16_profile_3_tool.part, mode=Mode.SUBTRACT)


with BuildPart() as cut_extrude17_tool:
    # Sketch34 → Cut-Extrude17 (with draft: the straight prism first)
    with BuildSketch(Plane(origin=(0, 20.436148168, 0.713646019), x_dir=(1, 0, 0), z_dir=(0, 0.9993908270190958, 0.03489949670250101))):
        with Locations((-140.403549595, 1646.088949876)):
            Circle(SKETCH34_R)
    extrude(amount=-CUT_EXTRUDE17_DEPTH)
    # Cut-Extrude17: the draft: its side faces are tilted about the plane it starts from
    cut_extrude17_sides = [cut_extrude17_tool.faces().sort_by_distance(p)[0] for p in [
        (-142.403549595, 76.88443322, -1644.40745044),
    ]]
    draft(cut_extrude17_sides, Plane(origin=(0, 20.436148168, 0.713646019), x_dir=(1, 0, 0), z_dir=(0, 0.9993908270190958, 0.03489949670250101)), CUT_EXTRUDE17_DRAFT)


with BuildPart() as part_20:
    add(part_19.part)

    # Cut-Extrude17: cut by cut_extrude17_tool
    add(cut_extrude17_tool.part, mode=Mode.SUBTRACT)


with BuildPart() as cut_extrude17_profile_2_tool:
    # Sketch34 → Cut-Extrude17 profile 2 (with draft: the straight prism first)
    with BuildSketch(Plane(origin=(0, 20.436148168, 0.713646019), x_dir=(1, 0, 0), z_dir=(0, 0.9993908270190958, 0.03489949670250101))):
        with Locations((-52.14958807, 1646.088949876)):
            Circle(SKETCH34_R)
    extrude(amount=-CUT_EXTRUDE17_PROFILE_2_DEPTH)
    # Cut-Extrude17 profile 2: the draft: its side faces are tilted about the plane it starts from
    cut_extrude17_profile_2_sides = [cut_extrude17_profile_2_tool.faces().sort_by_distance(p)[0] for p in [
        (-54.14958807, 76.88443322, -1644.40745044),
    ]]
    draft(cut_extrude17_profile_2_sides, Plane(origin=(0, 20.436148168, 0.713646019), x_dir=(1, 0, 0), z_dir=(0, 0.9993908270190958, 0.03489949670250101)), CUT_EXTRUDE17_PROFILE_2_DRAFT)


with BuildPart() as part_21:
    add(part_20.part)

    # Cut-Extrude17 profile 2: cut by cut_extrude17_profile_2_tool
    add(cut_extrude17_profile_2_tool.part, mode=Mode.SUBTRACT)


solid = part_21.part
